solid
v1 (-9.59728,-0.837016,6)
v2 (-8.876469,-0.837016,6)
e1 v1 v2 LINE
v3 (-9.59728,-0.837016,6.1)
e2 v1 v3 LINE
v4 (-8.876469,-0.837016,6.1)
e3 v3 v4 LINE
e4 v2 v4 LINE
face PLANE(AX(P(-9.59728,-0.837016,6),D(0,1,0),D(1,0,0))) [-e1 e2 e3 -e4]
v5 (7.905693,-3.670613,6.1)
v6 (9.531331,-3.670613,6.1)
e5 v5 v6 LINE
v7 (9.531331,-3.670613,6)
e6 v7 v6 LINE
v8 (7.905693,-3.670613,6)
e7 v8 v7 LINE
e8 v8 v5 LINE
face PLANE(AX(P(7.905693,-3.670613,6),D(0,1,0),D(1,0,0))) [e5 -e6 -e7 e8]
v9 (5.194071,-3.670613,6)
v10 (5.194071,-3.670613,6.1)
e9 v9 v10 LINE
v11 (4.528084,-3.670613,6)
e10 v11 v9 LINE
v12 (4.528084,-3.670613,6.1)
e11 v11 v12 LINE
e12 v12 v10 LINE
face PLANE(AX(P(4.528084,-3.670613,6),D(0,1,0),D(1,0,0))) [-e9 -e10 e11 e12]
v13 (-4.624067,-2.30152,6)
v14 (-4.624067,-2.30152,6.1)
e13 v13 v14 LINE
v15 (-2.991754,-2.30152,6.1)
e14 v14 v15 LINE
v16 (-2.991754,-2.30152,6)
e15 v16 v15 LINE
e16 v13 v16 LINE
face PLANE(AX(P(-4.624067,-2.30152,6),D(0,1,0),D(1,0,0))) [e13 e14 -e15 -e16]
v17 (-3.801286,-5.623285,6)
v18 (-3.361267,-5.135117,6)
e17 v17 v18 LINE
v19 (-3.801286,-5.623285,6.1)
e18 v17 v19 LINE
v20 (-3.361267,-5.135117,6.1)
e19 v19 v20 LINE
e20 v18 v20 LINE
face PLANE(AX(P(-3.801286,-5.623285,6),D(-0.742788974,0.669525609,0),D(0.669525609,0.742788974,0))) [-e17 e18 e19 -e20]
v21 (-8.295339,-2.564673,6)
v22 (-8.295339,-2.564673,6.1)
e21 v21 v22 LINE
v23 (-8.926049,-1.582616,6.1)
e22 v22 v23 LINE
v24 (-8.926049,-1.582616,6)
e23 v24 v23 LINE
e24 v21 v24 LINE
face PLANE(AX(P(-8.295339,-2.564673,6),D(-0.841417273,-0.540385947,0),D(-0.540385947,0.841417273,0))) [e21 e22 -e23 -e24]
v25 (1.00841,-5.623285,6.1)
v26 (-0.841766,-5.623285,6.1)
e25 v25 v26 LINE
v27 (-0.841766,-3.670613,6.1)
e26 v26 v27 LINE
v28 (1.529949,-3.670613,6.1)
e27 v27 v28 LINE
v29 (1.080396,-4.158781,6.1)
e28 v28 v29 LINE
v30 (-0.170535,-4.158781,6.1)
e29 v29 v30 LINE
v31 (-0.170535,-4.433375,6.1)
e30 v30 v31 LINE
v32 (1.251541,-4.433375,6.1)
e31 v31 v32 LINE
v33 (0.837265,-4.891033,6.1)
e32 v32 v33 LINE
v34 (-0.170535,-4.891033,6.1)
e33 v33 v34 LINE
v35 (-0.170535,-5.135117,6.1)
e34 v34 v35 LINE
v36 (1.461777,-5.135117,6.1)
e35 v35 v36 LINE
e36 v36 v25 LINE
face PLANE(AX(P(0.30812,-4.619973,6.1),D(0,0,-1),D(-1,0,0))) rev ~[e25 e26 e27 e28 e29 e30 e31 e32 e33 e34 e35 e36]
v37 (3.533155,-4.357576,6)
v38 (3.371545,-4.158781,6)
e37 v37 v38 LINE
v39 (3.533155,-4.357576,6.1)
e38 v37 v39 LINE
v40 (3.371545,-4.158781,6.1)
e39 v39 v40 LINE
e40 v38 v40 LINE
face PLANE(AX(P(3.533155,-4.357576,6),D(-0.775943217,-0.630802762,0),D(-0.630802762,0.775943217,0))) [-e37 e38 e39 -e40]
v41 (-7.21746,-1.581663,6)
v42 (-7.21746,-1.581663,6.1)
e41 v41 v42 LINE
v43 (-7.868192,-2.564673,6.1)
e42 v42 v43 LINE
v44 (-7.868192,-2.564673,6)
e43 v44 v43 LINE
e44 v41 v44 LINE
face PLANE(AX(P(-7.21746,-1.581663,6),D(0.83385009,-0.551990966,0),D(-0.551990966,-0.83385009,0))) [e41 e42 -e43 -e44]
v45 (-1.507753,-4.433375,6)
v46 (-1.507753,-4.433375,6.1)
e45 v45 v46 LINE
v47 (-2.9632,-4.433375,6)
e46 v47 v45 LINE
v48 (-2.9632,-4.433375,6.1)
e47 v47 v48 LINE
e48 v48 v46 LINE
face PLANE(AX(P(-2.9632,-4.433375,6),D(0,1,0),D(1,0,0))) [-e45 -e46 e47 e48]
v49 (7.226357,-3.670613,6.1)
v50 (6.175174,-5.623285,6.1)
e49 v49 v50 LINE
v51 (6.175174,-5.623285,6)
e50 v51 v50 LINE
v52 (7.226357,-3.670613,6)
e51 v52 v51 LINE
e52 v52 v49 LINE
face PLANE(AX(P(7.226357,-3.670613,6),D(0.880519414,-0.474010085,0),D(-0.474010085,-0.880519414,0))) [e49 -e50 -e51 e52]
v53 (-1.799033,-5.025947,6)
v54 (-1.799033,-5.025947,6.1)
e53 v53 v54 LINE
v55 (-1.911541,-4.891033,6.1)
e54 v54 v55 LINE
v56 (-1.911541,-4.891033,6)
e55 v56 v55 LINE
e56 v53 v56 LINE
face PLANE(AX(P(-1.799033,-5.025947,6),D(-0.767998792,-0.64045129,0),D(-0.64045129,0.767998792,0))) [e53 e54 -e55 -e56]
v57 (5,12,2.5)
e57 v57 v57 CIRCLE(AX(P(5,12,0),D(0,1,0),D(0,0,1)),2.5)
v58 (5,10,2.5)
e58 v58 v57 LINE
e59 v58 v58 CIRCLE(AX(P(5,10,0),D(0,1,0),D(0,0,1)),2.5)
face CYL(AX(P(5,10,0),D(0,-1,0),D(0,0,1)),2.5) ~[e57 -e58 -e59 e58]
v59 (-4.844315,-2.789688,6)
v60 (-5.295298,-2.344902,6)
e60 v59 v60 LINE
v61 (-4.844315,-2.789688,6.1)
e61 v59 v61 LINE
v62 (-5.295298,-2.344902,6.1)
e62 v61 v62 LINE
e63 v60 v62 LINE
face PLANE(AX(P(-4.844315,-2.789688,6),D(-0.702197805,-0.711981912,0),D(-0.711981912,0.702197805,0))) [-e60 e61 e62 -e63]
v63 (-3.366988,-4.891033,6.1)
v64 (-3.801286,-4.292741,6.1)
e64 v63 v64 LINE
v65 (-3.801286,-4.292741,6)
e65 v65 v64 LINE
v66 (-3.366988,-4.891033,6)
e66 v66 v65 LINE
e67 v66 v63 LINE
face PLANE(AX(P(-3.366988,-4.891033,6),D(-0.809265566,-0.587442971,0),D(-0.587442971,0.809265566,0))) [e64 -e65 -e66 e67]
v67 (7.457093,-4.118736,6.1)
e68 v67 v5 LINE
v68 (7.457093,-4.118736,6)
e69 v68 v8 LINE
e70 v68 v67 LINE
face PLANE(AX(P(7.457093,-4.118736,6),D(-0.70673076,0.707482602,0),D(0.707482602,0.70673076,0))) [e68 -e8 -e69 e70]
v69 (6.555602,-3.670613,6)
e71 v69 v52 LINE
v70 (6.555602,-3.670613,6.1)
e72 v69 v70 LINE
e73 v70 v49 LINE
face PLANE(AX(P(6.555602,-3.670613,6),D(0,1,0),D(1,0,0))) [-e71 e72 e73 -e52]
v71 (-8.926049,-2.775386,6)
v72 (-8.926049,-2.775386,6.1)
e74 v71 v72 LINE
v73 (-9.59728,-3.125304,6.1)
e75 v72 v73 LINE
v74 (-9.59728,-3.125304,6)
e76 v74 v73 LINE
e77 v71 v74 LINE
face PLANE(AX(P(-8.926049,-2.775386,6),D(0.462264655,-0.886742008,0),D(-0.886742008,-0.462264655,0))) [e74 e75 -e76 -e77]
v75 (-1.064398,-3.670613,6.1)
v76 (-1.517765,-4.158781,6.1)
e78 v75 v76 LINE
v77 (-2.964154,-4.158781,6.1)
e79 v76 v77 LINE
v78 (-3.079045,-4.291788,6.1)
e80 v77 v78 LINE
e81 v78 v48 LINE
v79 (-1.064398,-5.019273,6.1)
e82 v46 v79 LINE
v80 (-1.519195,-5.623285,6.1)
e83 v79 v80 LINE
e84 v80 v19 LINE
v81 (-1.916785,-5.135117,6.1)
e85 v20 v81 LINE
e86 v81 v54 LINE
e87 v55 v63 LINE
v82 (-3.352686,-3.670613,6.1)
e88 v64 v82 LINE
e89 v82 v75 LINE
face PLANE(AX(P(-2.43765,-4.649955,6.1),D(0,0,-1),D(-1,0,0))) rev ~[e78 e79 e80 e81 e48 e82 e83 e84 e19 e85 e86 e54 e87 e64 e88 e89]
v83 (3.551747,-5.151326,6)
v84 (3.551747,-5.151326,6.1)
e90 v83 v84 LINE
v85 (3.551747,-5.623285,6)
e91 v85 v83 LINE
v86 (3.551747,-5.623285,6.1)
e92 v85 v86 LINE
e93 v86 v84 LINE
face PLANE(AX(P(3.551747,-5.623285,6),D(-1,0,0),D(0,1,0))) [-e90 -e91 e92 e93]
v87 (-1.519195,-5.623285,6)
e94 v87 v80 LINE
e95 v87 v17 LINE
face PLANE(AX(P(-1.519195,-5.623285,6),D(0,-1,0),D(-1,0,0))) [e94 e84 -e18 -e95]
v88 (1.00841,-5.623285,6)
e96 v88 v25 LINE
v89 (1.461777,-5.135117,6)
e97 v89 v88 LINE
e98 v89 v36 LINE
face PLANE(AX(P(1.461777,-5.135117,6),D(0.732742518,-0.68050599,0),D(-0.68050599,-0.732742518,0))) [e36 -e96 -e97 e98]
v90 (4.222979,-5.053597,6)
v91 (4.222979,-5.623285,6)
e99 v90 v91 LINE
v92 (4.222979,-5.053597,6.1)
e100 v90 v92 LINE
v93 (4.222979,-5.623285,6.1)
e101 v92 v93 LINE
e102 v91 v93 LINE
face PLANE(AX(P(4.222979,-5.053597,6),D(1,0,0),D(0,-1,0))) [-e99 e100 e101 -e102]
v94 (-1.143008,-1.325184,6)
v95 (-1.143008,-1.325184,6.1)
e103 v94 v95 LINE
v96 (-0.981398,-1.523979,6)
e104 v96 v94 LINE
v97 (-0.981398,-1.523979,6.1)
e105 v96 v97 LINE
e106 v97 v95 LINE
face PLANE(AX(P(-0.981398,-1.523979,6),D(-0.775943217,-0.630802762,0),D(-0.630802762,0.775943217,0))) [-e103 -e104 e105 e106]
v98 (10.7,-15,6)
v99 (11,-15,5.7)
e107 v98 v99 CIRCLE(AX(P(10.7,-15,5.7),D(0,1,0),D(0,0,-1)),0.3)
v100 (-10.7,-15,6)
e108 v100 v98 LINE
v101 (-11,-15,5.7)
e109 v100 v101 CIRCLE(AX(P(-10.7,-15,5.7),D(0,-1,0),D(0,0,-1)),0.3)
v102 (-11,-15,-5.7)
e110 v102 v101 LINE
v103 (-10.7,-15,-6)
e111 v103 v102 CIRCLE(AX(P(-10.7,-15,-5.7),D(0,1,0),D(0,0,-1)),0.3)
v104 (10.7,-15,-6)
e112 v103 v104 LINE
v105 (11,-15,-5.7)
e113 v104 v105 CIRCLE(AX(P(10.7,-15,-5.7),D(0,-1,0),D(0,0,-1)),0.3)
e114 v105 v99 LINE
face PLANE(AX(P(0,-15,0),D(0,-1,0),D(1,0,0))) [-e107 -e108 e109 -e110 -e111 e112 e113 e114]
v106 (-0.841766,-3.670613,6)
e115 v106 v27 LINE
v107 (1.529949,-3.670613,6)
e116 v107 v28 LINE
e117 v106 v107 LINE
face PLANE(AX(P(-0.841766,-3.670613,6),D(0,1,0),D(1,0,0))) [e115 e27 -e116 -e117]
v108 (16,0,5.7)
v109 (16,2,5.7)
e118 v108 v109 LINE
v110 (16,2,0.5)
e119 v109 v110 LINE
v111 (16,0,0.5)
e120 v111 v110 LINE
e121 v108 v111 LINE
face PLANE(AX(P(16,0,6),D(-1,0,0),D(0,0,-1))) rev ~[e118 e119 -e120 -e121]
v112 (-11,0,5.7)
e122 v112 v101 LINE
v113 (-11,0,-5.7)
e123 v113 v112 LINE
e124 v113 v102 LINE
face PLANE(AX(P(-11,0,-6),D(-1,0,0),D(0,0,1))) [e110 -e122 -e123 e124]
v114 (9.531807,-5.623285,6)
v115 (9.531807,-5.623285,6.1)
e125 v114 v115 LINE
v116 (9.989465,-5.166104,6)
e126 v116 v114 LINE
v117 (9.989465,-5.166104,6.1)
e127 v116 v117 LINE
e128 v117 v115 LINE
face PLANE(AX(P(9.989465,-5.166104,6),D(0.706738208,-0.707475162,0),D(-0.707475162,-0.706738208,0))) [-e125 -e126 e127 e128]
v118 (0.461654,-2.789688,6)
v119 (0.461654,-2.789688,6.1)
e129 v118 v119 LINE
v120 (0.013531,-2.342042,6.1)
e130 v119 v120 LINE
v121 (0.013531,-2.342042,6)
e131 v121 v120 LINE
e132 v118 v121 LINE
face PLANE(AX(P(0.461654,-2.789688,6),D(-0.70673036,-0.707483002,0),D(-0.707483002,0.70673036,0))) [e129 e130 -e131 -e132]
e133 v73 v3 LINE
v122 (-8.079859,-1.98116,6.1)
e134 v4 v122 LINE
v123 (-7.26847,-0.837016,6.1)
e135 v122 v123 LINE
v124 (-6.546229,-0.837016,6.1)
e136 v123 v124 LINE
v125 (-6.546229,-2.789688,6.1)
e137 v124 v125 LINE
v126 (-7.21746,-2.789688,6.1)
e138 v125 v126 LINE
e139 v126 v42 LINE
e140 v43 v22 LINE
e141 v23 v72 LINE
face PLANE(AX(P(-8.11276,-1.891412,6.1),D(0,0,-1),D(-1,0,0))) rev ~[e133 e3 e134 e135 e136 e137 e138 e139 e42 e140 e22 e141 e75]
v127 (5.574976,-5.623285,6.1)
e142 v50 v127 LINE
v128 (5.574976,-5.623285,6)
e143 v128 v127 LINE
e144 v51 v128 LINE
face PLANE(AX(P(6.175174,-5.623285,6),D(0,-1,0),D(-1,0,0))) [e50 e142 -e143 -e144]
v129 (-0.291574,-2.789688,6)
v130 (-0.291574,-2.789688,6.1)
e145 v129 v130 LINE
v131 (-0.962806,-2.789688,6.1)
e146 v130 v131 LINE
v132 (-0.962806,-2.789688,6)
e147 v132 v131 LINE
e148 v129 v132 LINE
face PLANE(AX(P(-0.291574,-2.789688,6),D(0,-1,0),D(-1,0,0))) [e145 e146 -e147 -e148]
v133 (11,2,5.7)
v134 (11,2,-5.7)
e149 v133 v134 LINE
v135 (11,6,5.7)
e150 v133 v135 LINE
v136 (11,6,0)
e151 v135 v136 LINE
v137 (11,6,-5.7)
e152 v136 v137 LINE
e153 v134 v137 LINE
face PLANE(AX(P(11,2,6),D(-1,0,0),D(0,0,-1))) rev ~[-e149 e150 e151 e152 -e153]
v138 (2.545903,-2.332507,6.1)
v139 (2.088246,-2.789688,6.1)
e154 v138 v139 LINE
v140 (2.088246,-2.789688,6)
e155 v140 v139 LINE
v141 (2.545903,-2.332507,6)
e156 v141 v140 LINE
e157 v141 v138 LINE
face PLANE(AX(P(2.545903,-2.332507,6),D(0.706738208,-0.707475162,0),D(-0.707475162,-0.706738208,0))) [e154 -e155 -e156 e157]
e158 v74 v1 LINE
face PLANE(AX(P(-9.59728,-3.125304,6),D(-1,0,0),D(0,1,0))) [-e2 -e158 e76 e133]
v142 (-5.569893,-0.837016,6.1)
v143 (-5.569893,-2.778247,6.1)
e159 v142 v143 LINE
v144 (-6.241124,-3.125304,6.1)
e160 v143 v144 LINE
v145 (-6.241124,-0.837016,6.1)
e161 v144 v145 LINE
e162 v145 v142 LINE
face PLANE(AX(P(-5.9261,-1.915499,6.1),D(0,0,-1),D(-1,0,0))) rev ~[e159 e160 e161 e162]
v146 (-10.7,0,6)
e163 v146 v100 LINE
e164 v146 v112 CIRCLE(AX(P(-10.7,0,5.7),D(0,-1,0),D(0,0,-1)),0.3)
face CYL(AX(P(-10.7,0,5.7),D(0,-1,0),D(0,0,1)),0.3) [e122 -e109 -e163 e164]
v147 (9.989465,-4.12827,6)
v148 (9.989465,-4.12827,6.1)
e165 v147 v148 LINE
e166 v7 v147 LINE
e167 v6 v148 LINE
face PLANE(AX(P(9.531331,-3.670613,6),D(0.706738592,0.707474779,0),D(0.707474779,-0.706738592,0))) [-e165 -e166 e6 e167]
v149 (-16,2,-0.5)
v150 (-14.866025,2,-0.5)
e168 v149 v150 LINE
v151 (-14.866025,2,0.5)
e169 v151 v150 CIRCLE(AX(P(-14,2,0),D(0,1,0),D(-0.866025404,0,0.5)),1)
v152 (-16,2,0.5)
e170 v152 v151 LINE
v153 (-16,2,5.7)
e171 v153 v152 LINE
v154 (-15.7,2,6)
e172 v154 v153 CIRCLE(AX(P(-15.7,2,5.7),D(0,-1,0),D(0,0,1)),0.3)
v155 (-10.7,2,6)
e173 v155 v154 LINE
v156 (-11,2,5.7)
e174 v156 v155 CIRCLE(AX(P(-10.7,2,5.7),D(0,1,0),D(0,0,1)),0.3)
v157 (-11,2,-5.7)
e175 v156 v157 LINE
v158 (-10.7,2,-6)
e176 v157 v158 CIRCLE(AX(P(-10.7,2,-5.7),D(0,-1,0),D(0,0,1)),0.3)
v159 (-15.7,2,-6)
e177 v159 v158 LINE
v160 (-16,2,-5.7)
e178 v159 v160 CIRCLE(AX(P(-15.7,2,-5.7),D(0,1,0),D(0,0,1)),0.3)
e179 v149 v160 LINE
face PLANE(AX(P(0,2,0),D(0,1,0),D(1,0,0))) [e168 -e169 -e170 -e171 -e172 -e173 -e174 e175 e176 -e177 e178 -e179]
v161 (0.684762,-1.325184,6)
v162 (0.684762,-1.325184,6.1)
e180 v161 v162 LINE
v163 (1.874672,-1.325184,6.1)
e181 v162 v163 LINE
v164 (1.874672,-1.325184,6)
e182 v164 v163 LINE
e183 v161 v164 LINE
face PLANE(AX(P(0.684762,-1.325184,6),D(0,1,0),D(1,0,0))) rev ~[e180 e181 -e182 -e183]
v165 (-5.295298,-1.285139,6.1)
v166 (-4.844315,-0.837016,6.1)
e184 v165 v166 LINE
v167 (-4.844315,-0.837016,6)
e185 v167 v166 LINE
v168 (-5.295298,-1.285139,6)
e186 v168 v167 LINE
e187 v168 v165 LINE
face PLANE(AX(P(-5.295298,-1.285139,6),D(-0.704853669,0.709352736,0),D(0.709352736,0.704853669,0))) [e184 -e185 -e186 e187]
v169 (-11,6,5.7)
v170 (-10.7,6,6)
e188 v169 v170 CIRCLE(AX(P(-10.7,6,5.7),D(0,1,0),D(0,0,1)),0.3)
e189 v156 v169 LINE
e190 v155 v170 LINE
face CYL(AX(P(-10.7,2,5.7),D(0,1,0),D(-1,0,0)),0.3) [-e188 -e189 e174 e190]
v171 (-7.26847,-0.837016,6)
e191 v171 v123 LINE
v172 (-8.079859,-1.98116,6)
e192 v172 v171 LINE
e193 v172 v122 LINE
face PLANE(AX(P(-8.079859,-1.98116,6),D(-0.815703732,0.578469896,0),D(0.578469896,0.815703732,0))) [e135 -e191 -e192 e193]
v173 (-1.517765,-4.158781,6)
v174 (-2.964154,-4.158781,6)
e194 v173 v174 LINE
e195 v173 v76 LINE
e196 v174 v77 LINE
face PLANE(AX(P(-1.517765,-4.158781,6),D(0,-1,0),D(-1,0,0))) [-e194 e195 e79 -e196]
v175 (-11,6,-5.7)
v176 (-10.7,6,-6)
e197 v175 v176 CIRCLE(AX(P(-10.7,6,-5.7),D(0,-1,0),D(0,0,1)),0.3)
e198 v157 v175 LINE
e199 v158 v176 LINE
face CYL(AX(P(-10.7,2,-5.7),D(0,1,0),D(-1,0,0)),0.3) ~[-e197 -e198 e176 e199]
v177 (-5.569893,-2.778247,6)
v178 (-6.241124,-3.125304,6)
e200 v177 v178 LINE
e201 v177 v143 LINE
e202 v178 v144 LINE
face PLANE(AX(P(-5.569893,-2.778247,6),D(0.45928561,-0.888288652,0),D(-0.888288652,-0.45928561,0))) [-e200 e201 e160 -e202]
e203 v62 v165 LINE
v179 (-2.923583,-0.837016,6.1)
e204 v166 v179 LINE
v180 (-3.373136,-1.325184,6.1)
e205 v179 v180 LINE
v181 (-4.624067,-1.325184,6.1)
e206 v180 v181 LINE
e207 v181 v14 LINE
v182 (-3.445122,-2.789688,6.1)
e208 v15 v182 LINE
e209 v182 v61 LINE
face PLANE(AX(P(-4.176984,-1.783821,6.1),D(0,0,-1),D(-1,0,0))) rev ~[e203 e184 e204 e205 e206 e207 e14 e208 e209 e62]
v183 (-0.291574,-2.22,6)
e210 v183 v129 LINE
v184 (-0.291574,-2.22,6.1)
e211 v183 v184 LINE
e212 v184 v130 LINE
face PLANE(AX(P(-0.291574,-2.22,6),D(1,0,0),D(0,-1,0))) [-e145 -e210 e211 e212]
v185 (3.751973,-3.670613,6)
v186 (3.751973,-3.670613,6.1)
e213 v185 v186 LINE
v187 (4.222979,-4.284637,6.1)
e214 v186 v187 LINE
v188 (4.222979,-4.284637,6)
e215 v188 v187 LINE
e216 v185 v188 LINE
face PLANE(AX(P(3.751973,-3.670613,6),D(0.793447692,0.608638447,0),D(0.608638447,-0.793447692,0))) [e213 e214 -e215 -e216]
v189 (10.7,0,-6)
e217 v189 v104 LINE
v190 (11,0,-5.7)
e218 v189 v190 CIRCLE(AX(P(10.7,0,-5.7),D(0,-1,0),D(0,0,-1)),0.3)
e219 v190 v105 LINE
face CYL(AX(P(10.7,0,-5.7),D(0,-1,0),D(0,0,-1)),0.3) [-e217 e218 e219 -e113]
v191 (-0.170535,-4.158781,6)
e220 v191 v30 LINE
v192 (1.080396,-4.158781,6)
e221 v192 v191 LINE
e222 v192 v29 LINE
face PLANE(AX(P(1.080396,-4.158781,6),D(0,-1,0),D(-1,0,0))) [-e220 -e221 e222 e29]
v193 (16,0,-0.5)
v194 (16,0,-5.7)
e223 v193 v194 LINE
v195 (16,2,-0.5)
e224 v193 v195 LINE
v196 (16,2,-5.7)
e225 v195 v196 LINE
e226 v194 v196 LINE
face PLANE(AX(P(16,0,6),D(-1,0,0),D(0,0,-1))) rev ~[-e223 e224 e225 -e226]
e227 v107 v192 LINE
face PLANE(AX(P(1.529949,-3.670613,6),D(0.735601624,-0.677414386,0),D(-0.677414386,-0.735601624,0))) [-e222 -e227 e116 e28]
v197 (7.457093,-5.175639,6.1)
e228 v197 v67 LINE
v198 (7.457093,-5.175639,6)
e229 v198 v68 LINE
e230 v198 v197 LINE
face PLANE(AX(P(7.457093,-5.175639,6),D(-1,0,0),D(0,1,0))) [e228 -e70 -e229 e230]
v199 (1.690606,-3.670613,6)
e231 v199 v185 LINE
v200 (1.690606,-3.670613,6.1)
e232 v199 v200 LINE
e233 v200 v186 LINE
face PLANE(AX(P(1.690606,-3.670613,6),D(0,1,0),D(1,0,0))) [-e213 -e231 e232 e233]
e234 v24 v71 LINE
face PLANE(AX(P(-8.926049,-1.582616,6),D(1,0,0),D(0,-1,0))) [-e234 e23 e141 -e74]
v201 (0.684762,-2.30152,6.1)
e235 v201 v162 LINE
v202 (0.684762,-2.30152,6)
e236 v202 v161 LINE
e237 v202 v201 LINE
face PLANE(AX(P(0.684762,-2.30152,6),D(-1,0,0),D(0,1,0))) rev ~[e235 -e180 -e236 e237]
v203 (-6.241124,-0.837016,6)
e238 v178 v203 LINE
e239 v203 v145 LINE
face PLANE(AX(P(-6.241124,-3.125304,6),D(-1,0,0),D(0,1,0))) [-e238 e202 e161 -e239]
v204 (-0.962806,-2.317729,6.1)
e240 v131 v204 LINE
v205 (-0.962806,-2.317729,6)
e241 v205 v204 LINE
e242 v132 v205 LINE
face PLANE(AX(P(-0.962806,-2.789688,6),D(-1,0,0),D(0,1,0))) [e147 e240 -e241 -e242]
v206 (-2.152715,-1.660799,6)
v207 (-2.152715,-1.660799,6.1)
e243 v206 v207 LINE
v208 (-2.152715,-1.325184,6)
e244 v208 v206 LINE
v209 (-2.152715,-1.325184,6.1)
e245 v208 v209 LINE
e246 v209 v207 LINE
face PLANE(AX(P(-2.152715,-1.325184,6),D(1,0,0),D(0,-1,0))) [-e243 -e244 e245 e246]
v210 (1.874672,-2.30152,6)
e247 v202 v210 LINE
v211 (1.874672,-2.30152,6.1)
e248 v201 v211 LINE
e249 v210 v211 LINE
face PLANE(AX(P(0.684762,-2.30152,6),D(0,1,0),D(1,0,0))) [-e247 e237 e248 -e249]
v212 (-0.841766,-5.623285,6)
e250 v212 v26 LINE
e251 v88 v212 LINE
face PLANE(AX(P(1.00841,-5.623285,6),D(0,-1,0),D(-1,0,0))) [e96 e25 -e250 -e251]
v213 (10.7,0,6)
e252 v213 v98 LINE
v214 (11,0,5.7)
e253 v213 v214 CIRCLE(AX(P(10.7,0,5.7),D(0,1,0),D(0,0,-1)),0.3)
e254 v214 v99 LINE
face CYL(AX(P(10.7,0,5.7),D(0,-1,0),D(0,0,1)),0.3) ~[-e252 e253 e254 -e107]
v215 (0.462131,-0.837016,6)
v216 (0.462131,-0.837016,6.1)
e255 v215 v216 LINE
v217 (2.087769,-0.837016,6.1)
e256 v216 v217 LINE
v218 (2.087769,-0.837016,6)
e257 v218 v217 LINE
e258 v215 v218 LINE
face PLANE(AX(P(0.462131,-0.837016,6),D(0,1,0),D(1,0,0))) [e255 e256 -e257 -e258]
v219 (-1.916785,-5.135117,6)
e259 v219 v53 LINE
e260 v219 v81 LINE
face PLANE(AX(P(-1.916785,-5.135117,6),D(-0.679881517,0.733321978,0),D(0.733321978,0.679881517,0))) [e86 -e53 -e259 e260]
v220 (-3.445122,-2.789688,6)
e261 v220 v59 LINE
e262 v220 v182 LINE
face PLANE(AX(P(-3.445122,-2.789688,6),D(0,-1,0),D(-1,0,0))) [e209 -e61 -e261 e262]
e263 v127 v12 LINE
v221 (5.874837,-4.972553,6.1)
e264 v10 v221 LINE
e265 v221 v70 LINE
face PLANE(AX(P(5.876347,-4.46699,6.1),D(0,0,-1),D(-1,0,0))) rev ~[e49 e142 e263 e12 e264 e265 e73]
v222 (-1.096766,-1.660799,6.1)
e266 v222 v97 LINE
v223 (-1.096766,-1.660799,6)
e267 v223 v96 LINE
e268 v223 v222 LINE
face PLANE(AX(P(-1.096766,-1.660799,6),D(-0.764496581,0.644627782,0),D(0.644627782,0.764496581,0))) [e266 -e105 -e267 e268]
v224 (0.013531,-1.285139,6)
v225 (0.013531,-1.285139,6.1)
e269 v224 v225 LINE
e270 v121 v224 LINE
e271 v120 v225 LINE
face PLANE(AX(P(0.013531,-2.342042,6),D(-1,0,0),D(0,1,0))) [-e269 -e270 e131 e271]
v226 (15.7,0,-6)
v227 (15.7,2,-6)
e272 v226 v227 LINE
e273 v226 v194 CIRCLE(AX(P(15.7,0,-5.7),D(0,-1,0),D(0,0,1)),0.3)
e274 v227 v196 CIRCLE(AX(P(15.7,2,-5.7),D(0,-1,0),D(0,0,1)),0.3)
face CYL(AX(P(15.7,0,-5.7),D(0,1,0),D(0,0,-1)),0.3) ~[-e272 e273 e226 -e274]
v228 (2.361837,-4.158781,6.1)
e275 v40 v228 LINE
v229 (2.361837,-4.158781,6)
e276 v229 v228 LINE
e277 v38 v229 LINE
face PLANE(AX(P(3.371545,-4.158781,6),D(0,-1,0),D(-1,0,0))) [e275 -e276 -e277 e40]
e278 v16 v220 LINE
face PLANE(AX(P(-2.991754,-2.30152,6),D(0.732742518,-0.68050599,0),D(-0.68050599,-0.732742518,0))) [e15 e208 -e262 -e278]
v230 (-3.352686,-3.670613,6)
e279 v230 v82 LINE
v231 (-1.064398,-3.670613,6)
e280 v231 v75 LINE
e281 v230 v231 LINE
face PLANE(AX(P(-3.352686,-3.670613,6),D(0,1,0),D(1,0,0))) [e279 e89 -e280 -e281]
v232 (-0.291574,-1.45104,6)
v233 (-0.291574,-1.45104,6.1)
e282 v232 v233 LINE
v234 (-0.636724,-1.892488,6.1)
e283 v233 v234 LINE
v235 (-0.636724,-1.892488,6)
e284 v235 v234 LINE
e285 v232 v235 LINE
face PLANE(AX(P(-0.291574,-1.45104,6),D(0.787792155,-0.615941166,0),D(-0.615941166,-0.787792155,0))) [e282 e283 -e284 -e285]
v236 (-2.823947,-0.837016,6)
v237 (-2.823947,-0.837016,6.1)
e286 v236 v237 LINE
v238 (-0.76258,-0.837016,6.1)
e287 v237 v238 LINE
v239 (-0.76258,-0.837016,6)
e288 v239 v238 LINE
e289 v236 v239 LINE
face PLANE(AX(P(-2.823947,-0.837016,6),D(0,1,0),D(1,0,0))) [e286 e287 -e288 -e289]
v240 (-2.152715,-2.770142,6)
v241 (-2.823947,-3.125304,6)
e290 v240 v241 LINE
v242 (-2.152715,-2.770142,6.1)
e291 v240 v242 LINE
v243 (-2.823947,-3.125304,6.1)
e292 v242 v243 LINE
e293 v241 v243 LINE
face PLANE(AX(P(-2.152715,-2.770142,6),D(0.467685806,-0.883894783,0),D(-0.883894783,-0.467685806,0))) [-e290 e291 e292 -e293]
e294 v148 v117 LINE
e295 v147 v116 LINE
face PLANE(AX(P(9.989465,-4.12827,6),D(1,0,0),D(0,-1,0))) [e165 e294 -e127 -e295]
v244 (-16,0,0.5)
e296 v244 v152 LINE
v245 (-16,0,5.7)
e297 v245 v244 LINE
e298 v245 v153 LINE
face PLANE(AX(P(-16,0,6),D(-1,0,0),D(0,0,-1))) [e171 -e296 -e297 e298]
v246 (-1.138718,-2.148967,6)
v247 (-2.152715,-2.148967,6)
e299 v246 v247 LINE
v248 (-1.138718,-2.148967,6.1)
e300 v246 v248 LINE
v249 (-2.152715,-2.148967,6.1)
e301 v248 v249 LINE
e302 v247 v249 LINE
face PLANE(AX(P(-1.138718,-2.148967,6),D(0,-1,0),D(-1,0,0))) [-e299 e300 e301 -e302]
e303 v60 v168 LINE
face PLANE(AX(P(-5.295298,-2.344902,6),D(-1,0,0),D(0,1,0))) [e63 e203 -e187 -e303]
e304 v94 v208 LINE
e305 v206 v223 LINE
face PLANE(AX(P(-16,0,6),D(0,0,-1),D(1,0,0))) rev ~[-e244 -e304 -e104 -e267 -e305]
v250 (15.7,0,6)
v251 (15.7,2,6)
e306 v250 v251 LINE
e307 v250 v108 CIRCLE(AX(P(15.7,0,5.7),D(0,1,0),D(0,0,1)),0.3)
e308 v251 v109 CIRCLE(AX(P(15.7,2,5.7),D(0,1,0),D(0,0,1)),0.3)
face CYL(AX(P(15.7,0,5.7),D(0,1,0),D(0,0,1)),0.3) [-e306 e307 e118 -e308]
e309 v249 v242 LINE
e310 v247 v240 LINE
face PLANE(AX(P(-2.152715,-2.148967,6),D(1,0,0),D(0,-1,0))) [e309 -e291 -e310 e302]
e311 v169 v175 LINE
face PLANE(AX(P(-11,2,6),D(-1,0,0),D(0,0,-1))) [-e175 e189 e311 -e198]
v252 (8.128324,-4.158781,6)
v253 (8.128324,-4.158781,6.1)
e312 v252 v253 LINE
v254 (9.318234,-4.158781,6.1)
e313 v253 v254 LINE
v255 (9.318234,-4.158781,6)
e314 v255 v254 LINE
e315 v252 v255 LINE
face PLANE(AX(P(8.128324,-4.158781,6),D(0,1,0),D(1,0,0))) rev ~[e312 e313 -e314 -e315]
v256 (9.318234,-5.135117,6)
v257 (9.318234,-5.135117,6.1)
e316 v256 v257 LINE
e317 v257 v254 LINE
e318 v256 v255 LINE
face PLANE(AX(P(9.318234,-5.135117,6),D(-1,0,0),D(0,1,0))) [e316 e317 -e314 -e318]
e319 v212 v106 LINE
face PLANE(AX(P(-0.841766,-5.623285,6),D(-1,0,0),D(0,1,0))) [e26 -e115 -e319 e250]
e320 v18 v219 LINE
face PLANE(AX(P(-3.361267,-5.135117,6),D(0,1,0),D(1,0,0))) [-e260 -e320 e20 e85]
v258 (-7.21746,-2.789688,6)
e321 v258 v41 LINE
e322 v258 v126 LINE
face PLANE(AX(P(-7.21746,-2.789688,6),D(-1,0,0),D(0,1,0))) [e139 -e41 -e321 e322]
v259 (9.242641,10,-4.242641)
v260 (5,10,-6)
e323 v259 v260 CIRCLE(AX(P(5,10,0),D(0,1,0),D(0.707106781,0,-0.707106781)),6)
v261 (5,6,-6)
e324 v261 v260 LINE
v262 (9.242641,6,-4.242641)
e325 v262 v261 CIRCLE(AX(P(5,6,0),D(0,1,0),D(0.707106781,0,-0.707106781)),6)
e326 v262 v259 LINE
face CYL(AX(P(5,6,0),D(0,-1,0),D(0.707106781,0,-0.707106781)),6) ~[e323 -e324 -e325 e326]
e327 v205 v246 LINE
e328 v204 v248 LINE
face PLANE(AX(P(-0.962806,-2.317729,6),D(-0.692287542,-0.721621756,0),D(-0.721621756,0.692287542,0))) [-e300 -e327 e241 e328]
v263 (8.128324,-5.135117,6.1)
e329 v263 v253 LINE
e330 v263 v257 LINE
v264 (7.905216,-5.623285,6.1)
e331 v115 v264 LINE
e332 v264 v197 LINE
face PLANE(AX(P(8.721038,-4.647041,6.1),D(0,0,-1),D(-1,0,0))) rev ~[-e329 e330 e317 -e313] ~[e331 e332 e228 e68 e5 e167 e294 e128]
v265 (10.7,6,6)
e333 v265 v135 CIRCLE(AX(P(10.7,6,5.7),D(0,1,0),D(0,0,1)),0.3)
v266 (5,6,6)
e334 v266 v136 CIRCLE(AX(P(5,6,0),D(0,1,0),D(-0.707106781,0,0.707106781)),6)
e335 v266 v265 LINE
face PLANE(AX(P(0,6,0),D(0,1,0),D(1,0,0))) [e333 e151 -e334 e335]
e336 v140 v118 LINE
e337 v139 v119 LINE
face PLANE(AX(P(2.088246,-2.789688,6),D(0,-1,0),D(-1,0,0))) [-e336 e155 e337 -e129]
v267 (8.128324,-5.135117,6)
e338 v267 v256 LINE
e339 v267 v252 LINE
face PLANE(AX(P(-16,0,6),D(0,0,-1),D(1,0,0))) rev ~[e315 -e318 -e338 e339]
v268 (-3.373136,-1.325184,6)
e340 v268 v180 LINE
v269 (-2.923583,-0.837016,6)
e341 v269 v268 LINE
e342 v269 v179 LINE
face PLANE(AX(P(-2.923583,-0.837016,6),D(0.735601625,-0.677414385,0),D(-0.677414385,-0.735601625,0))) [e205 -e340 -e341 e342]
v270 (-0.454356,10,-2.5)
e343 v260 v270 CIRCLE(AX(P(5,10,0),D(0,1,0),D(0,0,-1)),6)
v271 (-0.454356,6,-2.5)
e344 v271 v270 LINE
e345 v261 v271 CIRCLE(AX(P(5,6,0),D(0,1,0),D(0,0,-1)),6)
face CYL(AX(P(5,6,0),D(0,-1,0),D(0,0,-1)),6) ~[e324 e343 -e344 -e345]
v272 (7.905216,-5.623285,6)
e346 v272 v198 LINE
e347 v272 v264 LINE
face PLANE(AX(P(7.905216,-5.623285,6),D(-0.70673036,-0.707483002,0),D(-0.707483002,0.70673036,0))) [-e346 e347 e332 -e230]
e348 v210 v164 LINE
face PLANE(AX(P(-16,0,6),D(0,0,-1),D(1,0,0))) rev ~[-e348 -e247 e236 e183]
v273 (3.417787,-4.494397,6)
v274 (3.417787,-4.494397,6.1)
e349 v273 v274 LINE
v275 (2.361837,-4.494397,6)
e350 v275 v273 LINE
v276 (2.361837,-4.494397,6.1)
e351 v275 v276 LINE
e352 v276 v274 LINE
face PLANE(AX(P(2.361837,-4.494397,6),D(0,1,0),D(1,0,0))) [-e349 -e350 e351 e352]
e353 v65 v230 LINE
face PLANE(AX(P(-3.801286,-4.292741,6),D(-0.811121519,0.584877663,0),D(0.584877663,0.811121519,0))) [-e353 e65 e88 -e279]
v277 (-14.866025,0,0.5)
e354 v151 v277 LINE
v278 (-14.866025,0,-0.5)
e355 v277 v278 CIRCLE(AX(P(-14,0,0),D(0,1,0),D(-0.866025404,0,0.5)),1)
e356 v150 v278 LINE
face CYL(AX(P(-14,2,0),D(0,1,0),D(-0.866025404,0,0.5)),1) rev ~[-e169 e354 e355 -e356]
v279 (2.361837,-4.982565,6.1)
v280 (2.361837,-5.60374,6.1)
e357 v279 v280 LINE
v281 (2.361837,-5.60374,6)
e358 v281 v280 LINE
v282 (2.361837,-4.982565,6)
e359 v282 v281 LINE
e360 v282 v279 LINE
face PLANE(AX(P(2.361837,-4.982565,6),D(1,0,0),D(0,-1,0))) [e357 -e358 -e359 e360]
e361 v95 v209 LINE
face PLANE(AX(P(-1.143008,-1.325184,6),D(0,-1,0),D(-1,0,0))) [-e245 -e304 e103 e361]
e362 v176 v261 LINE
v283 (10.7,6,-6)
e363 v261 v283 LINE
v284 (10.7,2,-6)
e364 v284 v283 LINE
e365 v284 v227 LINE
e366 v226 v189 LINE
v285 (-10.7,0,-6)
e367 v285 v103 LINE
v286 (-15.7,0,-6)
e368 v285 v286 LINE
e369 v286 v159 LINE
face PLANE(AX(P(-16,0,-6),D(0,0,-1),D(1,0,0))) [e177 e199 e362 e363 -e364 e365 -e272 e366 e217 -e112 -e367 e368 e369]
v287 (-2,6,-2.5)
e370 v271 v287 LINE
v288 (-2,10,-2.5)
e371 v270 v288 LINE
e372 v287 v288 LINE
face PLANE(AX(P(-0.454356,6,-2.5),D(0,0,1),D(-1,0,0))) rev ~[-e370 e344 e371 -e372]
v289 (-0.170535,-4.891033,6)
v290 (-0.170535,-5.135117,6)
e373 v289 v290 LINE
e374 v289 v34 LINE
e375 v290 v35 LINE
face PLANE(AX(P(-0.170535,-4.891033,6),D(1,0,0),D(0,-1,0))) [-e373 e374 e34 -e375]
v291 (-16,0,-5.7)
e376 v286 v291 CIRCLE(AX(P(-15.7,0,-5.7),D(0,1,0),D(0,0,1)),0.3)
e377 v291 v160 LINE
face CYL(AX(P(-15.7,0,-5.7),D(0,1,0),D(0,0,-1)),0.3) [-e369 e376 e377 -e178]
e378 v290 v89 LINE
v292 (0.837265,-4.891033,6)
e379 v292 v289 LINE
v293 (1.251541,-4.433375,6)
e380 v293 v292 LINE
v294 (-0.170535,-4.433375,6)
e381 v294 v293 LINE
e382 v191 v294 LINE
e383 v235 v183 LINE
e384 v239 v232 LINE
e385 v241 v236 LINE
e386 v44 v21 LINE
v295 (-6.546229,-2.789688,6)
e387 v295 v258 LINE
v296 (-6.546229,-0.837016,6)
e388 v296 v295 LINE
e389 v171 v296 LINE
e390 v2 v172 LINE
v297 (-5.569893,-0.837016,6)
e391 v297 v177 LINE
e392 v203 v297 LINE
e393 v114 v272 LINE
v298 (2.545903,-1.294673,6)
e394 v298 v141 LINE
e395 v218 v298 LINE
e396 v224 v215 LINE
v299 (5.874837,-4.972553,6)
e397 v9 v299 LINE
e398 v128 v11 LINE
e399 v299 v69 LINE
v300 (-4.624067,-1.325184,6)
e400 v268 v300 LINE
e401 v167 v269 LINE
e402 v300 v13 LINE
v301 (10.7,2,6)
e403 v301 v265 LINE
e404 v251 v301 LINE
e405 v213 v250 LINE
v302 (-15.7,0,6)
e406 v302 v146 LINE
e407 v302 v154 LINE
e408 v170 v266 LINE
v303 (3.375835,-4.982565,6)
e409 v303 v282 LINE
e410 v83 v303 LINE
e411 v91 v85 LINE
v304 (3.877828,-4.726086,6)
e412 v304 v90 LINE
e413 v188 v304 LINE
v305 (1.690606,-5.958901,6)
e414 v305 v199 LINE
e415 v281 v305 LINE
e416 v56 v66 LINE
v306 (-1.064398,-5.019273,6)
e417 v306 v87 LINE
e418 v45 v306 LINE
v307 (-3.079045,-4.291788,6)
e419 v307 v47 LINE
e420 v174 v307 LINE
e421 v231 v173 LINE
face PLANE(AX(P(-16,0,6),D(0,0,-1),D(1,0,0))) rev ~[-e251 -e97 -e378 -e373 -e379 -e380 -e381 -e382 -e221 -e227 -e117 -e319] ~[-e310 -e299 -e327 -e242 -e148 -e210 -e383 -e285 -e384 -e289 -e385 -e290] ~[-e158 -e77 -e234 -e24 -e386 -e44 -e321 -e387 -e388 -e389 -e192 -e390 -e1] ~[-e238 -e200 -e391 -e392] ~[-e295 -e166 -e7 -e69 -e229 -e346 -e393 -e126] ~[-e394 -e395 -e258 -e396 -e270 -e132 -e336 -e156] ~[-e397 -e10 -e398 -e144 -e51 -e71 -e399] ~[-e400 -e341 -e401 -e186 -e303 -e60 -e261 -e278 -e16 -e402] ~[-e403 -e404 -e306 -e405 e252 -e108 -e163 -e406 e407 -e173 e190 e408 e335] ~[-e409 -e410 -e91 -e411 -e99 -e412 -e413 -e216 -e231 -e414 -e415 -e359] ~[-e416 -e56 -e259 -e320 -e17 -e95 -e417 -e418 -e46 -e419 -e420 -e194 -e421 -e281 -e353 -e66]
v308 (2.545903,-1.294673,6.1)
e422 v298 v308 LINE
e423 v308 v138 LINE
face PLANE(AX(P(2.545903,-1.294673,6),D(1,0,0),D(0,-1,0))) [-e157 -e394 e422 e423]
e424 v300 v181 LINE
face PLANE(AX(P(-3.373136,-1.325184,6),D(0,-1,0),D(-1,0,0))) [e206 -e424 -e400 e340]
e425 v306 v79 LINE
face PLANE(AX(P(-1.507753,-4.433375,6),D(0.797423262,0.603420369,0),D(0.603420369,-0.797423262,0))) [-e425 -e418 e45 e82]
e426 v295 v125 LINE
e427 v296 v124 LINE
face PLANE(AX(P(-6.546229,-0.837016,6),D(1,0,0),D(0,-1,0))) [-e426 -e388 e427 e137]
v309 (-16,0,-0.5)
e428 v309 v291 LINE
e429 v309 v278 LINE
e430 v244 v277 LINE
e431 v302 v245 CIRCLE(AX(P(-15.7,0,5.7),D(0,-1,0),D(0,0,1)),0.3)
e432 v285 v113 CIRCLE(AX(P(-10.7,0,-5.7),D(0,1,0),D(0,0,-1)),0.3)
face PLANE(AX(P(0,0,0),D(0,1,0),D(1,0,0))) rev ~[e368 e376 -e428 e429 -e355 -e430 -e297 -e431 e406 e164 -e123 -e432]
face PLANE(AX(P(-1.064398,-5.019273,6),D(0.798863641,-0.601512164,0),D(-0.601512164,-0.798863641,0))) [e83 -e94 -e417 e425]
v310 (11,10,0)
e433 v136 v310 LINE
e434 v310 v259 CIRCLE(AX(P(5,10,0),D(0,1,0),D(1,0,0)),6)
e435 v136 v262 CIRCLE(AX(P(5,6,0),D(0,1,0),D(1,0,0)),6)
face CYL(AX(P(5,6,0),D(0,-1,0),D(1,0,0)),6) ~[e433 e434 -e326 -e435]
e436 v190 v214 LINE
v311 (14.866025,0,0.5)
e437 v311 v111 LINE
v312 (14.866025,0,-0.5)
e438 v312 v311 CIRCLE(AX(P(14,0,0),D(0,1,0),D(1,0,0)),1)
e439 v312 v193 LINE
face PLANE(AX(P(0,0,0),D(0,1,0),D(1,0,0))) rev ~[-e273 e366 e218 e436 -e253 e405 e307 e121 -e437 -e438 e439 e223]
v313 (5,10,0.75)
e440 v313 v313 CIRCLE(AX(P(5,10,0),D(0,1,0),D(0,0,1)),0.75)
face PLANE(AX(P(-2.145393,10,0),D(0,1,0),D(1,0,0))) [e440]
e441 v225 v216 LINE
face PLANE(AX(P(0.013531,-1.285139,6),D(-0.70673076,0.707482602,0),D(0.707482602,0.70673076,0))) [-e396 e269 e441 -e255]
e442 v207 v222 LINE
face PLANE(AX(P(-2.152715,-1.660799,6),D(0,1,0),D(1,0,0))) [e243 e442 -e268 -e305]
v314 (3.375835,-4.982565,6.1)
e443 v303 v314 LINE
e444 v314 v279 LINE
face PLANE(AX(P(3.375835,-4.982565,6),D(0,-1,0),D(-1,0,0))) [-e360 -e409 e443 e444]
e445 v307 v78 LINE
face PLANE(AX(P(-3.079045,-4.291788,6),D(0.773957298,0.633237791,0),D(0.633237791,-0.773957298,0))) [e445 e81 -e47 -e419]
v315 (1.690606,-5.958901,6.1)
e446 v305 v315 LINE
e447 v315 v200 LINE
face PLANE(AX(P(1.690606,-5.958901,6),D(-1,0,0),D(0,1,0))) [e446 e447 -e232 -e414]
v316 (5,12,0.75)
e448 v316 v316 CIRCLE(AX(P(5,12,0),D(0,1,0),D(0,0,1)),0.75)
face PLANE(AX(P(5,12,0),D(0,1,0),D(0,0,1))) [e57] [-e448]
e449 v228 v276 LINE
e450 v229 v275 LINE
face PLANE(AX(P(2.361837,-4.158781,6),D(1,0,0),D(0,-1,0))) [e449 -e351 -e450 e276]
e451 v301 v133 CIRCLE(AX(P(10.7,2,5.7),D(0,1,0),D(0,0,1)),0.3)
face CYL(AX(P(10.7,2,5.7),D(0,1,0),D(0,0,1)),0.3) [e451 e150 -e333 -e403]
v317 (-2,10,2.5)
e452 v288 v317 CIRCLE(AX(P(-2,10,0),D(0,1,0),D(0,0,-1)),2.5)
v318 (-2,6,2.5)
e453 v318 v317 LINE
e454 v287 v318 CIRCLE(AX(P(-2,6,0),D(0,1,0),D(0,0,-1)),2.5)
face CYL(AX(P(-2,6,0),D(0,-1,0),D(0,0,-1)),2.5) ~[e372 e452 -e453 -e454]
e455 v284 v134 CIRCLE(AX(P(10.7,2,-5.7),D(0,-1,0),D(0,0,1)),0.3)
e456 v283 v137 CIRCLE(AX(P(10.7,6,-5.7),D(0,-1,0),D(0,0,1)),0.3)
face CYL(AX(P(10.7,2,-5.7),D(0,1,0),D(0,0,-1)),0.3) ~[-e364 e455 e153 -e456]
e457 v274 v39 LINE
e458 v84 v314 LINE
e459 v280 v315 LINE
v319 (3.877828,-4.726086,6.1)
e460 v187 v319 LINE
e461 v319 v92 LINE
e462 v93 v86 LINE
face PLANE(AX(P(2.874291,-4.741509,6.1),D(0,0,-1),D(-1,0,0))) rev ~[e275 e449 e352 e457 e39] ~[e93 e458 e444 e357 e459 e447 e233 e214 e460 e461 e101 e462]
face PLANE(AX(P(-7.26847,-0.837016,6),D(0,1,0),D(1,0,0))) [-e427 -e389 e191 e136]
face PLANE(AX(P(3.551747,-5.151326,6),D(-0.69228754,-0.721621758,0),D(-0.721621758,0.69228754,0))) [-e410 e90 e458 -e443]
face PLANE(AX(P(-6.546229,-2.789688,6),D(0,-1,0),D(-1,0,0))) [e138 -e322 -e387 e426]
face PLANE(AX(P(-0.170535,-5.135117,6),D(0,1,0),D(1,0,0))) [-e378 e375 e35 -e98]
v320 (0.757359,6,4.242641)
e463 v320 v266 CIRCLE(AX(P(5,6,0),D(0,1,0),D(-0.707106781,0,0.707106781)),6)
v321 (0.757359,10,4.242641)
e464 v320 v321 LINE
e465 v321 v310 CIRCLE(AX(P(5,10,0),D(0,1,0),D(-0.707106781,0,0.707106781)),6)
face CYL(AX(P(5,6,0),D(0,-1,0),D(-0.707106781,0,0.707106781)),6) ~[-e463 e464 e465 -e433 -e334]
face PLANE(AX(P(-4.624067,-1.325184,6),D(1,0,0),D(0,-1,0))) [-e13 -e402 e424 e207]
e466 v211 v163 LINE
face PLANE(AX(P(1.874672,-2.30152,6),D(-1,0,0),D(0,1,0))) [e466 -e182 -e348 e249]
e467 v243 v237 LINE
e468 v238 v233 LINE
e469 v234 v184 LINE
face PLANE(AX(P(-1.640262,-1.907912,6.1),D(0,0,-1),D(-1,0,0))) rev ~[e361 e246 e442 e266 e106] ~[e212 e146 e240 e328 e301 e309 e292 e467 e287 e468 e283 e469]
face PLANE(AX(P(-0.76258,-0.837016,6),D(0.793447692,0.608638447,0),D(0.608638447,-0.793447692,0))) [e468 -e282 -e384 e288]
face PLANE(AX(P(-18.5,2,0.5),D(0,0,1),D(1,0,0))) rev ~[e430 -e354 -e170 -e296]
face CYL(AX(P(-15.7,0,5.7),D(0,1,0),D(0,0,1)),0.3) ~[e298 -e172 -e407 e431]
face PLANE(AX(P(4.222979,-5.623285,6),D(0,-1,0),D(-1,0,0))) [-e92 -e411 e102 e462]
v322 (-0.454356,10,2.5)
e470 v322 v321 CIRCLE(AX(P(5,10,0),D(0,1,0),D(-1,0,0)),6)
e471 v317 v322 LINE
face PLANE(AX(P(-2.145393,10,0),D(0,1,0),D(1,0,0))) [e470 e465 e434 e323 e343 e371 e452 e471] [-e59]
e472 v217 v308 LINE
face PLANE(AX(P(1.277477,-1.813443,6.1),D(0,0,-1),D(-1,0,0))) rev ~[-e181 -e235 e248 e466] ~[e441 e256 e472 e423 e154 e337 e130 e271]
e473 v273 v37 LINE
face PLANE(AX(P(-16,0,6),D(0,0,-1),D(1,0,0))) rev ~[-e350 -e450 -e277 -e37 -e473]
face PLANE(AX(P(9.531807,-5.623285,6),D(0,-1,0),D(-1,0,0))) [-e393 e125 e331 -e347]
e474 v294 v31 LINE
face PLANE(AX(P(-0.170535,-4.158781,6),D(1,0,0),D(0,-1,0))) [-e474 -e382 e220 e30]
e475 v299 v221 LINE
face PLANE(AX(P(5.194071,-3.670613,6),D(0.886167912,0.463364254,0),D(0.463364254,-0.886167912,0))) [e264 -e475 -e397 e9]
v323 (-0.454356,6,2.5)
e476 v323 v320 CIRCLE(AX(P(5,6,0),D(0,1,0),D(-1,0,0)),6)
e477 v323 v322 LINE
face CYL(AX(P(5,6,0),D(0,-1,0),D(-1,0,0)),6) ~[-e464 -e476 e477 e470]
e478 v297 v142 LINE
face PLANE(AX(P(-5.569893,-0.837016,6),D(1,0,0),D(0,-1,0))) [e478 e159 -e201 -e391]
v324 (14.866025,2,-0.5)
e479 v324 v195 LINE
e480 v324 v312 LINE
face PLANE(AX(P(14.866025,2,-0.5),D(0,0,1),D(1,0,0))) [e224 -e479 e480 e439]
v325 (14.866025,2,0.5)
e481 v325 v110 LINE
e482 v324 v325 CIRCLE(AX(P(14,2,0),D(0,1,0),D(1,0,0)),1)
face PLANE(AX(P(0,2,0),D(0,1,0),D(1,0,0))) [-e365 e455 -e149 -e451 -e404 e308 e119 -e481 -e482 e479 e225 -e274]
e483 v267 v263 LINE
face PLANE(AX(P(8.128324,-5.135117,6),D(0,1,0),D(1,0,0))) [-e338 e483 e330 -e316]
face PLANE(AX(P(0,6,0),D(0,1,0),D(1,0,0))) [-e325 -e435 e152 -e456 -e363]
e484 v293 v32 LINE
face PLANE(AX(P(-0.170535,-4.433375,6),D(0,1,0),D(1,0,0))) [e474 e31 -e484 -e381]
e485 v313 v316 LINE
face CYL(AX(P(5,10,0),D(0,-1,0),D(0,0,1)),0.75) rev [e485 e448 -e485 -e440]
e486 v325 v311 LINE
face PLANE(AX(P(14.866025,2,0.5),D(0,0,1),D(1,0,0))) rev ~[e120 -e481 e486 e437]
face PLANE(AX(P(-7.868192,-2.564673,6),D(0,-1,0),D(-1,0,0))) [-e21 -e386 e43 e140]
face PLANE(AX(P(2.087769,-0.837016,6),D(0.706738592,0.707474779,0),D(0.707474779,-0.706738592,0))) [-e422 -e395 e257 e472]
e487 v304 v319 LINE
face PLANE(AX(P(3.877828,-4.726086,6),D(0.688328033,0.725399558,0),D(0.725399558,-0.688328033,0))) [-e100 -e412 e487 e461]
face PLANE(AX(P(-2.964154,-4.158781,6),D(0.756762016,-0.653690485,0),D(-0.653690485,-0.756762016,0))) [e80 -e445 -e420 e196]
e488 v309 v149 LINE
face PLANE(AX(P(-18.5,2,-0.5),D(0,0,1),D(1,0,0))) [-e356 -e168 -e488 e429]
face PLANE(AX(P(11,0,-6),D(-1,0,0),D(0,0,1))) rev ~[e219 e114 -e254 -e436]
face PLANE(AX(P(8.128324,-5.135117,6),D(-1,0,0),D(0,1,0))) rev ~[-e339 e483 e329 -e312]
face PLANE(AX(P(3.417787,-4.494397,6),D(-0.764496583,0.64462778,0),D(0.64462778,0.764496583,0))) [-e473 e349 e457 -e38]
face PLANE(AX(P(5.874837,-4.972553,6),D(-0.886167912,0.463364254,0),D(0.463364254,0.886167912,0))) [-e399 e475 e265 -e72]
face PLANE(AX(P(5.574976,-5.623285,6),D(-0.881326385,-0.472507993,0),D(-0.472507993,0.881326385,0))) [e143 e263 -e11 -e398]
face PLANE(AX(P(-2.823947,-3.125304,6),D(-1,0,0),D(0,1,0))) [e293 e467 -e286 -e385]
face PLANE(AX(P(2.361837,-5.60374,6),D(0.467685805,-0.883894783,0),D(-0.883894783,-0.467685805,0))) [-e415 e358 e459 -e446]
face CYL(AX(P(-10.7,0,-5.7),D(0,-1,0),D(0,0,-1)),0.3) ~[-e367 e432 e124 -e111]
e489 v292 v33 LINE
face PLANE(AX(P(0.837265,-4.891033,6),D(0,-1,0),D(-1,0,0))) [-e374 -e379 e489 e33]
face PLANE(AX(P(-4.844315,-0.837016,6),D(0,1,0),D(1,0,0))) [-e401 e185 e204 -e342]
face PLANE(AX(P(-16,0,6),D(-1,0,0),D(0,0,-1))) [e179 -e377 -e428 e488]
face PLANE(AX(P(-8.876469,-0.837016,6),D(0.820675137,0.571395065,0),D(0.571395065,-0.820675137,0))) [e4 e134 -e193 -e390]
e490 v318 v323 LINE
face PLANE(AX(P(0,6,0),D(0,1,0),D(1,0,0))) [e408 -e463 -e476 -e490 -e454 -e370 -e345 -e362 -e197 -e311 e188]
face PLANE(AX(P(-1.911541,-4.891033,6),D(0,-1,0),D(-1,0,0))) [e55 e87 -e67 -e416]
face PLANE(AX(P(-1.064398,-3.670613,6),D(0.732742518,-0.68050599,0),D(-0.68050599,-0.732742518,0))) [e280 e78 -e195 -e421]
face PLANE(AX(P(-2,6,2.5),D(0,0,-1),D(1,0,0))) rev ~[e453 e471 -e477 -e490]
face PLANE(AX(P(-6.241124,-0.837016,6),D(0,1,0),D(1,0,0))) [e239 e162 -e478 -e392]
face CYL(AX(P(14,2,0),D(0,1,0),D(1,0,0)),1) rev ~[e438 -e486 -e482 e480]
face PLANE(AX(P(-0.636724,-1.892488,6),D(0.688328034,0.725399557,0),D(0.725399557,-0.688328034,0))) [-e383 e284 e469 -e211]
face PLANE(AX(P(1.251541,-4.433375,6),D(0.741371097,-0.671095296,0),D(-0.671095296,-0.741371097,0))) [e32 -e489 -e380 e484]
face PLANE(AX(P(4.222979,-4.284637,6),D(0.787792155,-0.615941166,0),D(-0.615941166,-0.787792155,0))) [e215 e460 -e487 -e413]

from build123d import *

# Parameters (mm, degrees)
SKETCH1_W           = 32
SKETCH1_H           = 12
BOSS_EXTRUDE1_DEPTH = 2
SKETCH2_W           = 22
SKETCH2_H           = 12
BOSS_EXTRUDE2_DEPTH = 15
SKETCH3_W           = 22
SKETCH3_H           = 12
BOSS_EXTRUDE3_DEPTH = 4
BOSS_EXTRUDE4_DEPTH = 4
BOSS_EXTRUDE5_DEPTH = 4
SKETCH6_R           = 2.5
SKETCH6_R_2         = 0.75
BOSS_EXTRUDE6_DEPTH = 2
SKETCH7_R           = 1
SKETCH7_W           = 5
SKETCH7_H           = 1
CUT_EXTRUDE1_DEPTH  = 25.103941586
FILLET1_R           = 0.3
SKETCH8_W           = 1.18990991
SKETCH8_H           = 0.976336336
SKETCH8_H_2         = 0.976336337
BOSS_EXTRUDE7_DEPTH = 0.1


with BuildPart() as part:
    # Sketch1 → Boss-Extrude1 (new body)
    with BuildSketch(Plane(origin=(0, 0, 0), x_dir=(1, 0, 0), z_dir=(0, 1, 0))):
        Rectangle(SKETCH1_W, SKETCH1_H)
    extrude(amount=BOSS_EXTRUDE1_DEPTH)

    # Sketch2 → Boss-Extrude2 (add)
    with BuildSketch(Plane.XZ):
        Rectangle(SKETCH2_W, SKETCH2_H)
    extrude(amount=BOSS_EXTRUDE2_DEPTH)

    # Sketch3 → Boss-Extrude3 (add)
    with BuildSketch(Plane(origin=(0, 2, 0), x_dir=(1, 0, 0), z_dir=(0, 1, 0))):
        Rectangle(SKETCH3_W, SKETCH3_H)
    extrude(amount=BOSS_EXTRUDE3_DEPTH)

    # Sketch4 → Boss-Extrude4 (add)
    with BuildSketch(Plane(origin=(0, 6, 0), x_dir=(1, 0, 0), z_dir=(0, 1, 0))):
        with BuildLine():
            ThreePointArc((9.242640687, 4.242640687), (7.296100594, 5.543277195), (5, 6))
            ThreePointArc((5, 6), (0.757359313, 4.242640687), (-1, 0))
            ThreePointArc((-1, 0), (-0.543277195, -2.296100594), (0.757359313, -4.242640687))
            Line((0.757359313, -4.242640687), (9.242640687, 4.242640687))
        make_face()
        with BuildLine():
            ThreePointArc((11, 0), (10.543277195, 2.296100594), (9.242640687, 4.242640687))
            Line((9.242640687, 4.242640687), (0.757359313, -4.242640687))
            ThreePointArc((0.757359313, -4.242640687), (7.296100594, -5.543277195), (11, 0))
        make_face()
    extrude(amount=BOSS_EXTRUDE4_DEPTH)

    # Sketch5 → Boss-Extrude5 (add)
    with BuildSketch(Plane(origin=(0, 6, 0), x_dir=(1, 0, 0), z_dir=(0, 1, 0))):
        with BuildLine():
            ThreePointArc((-1, 0), (-0.862002062, 1.279426367), (-0.454356057, 2.5))
            Line((-0.454356057, 2.5), (-2, 2.5))
            ThreePointArc((-2, 2.5), (-4.5, 0), (-2, -2.5))
            Line((-2, -2.5), (-0.454356057, -2.5))
            ThreePointArc((-0.454356057, -2.5), (-0.862002062, -1.279426367), (-1, 0))
        make_face()
    extrude(amount=BOSS_EXTRUDE5_DEPTH)

    # Sketch6 → Boss-Extrude6 (add)
    with BuildSketch(Plane(origin=(0, 10, 0), x_dir=(1, 0, 0), z_dir=(0, 1, 0))):
        with Locations(Location((5, 0, 0), (0, 0, 270))):
            Circle(SKETCH6_R)
        with Locations(Location((5, 0, 0), (0, 0, 270))):
            Circle(SKETCH6_R_2, mode=Mode.SUBTRACT)
    extrude(amount=BOSS_EXTRUDE6_DEPTH)

    # Sketch7 → Cut-Extrude1 (cut, through all)
    with BuildSketch(Plane(origin=(0, 2, 0), x_dir=(1, 0, 0), z_dir=(0, 1, 0))):
        with Locations((14, 0)):
            Circle(SKETCH7_R)
        with Locations((-14, 0)):
            Circle(SKETCH7_R)
        with Locations((16, 0)):
            Rectangle(SKETCH7_W, SKETCH7_H)
        with Locations((-16, 0)):
            Rectangle(SKETCH7_W, SKETCH7_H)
    extrude(amount=-CUT_EXTRUDE1_DEPTH, mode=Mode.SUBTRACT)

    # Fillet1
    fillet1_edges = [part.edges().sort_by_distance(p)[0] for p in [
        (11, 4, -6),
        (11, -7.5, -6),
        (11, 4, 6),
        (11, -7.5, 6),
        (-11, 4, -6),
        (-11, 4, 6),
        (-11, -7.5, 6),
        (-11, -7.5, -6),
        (-16, 1, -6),
        (-16, 1, 6),
        (16, 1, -6),
        (16, 1, 6),
    ]]
    fillet(fillet1_edges, radius=FILLET1_R)

    # Sketch8 → Boss-Extrude7 (add)
    # profile 1 of 10: a face of its own
    with BuildSketch(Plane.XY.offset(6)):
        Polygon((-6.546228955, -2.789688189), (-7.217460186, -2.789688189), (-7.217460186, -1.581662663), (-7.868192168, -2.564673174), (-8.295339315, -2.564673174), (-8.926048774, -1.582616117), (-8.926048774, -2.775386387), (-9.597280006, -3.125303805), (-9.597280006, -0.837015516), (-8.876469195, -0.837015516), (-8.079858834, -1.98115966), (-7.268469946, -0.837015516), (-6.546228955, -0.837015516), align=None)
    # profile 2 of 10: a face of its own
    with BuildSketch(Plane.XY.offset(6)):
        Polygon((-5.569892618, -2.778246748), (-6.241123849, -3.125303805), (-6.241123849, -0.837015516), (-5.569892618, -0.837015516), align=None)
    # profile 3 of 10: a face of its own
    with BuildSketch(Plane.XY.offset(6)):
        Polygon((-2.923582558, -0.837015516), (-3.373135861, -1.325183685), (-4.624066792, -1.325183685), (-4.624066792, -2.301520021), (-2.99175448, -2.301520021), (-3.445121597, -2.789688189), (-4.84431454, -2.789688189), (-5.295298024, -2.344902153), (-5.295298024, -1.285138639), (-4.84431454, -0.837015516), align=None)
    # profile 4 of 10: a face of its own
    with BuildSketch(Plane.XY.offset(6)):
        Polygon((-0.2915743, -2.789688189), (-0.962805531, -2.789688189), (-0.962805531, -2.31772873), (-1.138717693, -2.148967468), (-2.152715441, -2.148967468), (-2.152715441, -2.770142393), (-2.823946672, -3.125303805), (-2.823946672, -0.837015516), (-0.762580306, -0.837015516), (-0.2915743, -1.45103954), (-0.63672445, -1.892488489), (-0.2915743, -2.219999751), align=None)
        Polygon((-0.981397873, -1.52397873), (-1.143008234, -1.325183685), (-2.152715441, -1.325183685), (-2.152715441, -1.6607993), (-1.096765741, -1.6607993), align=None, mode=Mode.SUBTRACT)
    # profile 5 of 10: a face of its own
    with BuildSketch(Plane.XY.offset(6)):
        Polygon((2.545903178, -2.332507258), (2.08824552, -2.789688189), (0.461653928, -2.789688189), (0.013530805, -2.342041793), (0.013530805, -1.285138639), (0.462130655, -0.837015516), (2.087768793, -0.837015516), (2.545903178, -1.294673174), align=None)
        with Locations((1.279716991, -1.813351853)):
            Rectangle(SKETCH8_W, SKETCH8_H, mode=Mode.SUBTRACT)
    # profile 6 of 10: a face of its own
    with BuildSketch(Plane.XY.offset(6)):
        Polygon((-1.064397577, -5.019272635), (-1.519194874, -5.623285398), (-3.801285715, -5.623285398), (-3.361266946, -5.13511723), (-1.916784964, -5.13511723), (-1.799033463, -5.025946809), (-1.91154097, -4.891033146), (-3.366987667, -4.891033146), (-3.801285715, -4.292741103), (-3.352685865, -3.670612725), (-1.064397577, -3.670612725), (-1.517764694, -4.158780893), (-2.964153583, -4.158780893), (-3.079044724, -4.29178765), (-2.963200129, -4.433375488), (-1.507753433, -4.433375488), align=None)
    # profile 7 of 10: a face of its own
    with BuildSketch(Plane.XY.offset(6)):
        Polygon((1.52994927, -3.670612725), (1.080395967, -4.158780893), (-0.170534964, -4.158780893), (-0.170534964, -4.433375488), (1.251540862, -4.433375488), (0.837265336, -4.891033146), (-0.170534964, -4.891033146), (-0.170534964, -5.13511723), (1.461777348, -5.13511723), (1.008410231, -5.623285398), (-0.841766195, -5.623285398), (-0.841766195, -3.670612725), align=None)
    # profile 8 of 10: a face of its own
    with BuildSketch(Plane.XY.offset(6)):
        Polygon((4.222978549, -5.623285398), (3.551747318, -5.623285398), (3.551747318, -5.151325938), (3.375835156, -4.982564677), (2.361837408, -4.982564677), (2.361837408, -5.603739602), (1.690606177, -5.958901013), (1.690606177, -3.670612725), (3.751972543, -3.670612725), (4.222978549, -4.284636749), (3.877828399, -4.726085698), (4.222978549, -5.053596959), align=None)
        Polygon((3.533154976, -4.357575938), (3.371544615, -4.158780893), (2.361837408, -4.158780893), (2.361837408, -4.494396509), (3.417787108, -4.494396509), align=None, mode=Mode.SUBTRACT)
    # profile 9 of 10: a face of its own
    with BuildSketch(Plane.XY.offset(6)):
        Polygon((7.226356928, -3.670612725), (6.175174495, -5.623285398), (5.574975546, -5.623285398), (4.528083654, -3.670612725), (5.194070892, -3.670612725), (5.874836657, -4.972553416), (6.555602423, -3.670612725), align=None)
    # profile 10 of 10: a face of its own
    with BuildSketch(Plane.XY.offset(6)):
        Polygon((9.989465036, -5.166104467), (9.531807378, -5.623285398), (7.905215787, -5.623285398), (7.457092663, -5.175639001), (7.457092663, -4.118735848), (7.905692513, -3.670612725), (9.531330651, -3.670612725), (9.989465036, -4.128270383), align=None)
        with Locations((8.72327885, -4.646949062)):
            Rectangle(SKETCH8_W, SKETCH8_H_2, mode=Mode.SUBTRACT)
    extrude(amount=BOSS_EXTRUDE7_DEPTH)


solid = part.part
